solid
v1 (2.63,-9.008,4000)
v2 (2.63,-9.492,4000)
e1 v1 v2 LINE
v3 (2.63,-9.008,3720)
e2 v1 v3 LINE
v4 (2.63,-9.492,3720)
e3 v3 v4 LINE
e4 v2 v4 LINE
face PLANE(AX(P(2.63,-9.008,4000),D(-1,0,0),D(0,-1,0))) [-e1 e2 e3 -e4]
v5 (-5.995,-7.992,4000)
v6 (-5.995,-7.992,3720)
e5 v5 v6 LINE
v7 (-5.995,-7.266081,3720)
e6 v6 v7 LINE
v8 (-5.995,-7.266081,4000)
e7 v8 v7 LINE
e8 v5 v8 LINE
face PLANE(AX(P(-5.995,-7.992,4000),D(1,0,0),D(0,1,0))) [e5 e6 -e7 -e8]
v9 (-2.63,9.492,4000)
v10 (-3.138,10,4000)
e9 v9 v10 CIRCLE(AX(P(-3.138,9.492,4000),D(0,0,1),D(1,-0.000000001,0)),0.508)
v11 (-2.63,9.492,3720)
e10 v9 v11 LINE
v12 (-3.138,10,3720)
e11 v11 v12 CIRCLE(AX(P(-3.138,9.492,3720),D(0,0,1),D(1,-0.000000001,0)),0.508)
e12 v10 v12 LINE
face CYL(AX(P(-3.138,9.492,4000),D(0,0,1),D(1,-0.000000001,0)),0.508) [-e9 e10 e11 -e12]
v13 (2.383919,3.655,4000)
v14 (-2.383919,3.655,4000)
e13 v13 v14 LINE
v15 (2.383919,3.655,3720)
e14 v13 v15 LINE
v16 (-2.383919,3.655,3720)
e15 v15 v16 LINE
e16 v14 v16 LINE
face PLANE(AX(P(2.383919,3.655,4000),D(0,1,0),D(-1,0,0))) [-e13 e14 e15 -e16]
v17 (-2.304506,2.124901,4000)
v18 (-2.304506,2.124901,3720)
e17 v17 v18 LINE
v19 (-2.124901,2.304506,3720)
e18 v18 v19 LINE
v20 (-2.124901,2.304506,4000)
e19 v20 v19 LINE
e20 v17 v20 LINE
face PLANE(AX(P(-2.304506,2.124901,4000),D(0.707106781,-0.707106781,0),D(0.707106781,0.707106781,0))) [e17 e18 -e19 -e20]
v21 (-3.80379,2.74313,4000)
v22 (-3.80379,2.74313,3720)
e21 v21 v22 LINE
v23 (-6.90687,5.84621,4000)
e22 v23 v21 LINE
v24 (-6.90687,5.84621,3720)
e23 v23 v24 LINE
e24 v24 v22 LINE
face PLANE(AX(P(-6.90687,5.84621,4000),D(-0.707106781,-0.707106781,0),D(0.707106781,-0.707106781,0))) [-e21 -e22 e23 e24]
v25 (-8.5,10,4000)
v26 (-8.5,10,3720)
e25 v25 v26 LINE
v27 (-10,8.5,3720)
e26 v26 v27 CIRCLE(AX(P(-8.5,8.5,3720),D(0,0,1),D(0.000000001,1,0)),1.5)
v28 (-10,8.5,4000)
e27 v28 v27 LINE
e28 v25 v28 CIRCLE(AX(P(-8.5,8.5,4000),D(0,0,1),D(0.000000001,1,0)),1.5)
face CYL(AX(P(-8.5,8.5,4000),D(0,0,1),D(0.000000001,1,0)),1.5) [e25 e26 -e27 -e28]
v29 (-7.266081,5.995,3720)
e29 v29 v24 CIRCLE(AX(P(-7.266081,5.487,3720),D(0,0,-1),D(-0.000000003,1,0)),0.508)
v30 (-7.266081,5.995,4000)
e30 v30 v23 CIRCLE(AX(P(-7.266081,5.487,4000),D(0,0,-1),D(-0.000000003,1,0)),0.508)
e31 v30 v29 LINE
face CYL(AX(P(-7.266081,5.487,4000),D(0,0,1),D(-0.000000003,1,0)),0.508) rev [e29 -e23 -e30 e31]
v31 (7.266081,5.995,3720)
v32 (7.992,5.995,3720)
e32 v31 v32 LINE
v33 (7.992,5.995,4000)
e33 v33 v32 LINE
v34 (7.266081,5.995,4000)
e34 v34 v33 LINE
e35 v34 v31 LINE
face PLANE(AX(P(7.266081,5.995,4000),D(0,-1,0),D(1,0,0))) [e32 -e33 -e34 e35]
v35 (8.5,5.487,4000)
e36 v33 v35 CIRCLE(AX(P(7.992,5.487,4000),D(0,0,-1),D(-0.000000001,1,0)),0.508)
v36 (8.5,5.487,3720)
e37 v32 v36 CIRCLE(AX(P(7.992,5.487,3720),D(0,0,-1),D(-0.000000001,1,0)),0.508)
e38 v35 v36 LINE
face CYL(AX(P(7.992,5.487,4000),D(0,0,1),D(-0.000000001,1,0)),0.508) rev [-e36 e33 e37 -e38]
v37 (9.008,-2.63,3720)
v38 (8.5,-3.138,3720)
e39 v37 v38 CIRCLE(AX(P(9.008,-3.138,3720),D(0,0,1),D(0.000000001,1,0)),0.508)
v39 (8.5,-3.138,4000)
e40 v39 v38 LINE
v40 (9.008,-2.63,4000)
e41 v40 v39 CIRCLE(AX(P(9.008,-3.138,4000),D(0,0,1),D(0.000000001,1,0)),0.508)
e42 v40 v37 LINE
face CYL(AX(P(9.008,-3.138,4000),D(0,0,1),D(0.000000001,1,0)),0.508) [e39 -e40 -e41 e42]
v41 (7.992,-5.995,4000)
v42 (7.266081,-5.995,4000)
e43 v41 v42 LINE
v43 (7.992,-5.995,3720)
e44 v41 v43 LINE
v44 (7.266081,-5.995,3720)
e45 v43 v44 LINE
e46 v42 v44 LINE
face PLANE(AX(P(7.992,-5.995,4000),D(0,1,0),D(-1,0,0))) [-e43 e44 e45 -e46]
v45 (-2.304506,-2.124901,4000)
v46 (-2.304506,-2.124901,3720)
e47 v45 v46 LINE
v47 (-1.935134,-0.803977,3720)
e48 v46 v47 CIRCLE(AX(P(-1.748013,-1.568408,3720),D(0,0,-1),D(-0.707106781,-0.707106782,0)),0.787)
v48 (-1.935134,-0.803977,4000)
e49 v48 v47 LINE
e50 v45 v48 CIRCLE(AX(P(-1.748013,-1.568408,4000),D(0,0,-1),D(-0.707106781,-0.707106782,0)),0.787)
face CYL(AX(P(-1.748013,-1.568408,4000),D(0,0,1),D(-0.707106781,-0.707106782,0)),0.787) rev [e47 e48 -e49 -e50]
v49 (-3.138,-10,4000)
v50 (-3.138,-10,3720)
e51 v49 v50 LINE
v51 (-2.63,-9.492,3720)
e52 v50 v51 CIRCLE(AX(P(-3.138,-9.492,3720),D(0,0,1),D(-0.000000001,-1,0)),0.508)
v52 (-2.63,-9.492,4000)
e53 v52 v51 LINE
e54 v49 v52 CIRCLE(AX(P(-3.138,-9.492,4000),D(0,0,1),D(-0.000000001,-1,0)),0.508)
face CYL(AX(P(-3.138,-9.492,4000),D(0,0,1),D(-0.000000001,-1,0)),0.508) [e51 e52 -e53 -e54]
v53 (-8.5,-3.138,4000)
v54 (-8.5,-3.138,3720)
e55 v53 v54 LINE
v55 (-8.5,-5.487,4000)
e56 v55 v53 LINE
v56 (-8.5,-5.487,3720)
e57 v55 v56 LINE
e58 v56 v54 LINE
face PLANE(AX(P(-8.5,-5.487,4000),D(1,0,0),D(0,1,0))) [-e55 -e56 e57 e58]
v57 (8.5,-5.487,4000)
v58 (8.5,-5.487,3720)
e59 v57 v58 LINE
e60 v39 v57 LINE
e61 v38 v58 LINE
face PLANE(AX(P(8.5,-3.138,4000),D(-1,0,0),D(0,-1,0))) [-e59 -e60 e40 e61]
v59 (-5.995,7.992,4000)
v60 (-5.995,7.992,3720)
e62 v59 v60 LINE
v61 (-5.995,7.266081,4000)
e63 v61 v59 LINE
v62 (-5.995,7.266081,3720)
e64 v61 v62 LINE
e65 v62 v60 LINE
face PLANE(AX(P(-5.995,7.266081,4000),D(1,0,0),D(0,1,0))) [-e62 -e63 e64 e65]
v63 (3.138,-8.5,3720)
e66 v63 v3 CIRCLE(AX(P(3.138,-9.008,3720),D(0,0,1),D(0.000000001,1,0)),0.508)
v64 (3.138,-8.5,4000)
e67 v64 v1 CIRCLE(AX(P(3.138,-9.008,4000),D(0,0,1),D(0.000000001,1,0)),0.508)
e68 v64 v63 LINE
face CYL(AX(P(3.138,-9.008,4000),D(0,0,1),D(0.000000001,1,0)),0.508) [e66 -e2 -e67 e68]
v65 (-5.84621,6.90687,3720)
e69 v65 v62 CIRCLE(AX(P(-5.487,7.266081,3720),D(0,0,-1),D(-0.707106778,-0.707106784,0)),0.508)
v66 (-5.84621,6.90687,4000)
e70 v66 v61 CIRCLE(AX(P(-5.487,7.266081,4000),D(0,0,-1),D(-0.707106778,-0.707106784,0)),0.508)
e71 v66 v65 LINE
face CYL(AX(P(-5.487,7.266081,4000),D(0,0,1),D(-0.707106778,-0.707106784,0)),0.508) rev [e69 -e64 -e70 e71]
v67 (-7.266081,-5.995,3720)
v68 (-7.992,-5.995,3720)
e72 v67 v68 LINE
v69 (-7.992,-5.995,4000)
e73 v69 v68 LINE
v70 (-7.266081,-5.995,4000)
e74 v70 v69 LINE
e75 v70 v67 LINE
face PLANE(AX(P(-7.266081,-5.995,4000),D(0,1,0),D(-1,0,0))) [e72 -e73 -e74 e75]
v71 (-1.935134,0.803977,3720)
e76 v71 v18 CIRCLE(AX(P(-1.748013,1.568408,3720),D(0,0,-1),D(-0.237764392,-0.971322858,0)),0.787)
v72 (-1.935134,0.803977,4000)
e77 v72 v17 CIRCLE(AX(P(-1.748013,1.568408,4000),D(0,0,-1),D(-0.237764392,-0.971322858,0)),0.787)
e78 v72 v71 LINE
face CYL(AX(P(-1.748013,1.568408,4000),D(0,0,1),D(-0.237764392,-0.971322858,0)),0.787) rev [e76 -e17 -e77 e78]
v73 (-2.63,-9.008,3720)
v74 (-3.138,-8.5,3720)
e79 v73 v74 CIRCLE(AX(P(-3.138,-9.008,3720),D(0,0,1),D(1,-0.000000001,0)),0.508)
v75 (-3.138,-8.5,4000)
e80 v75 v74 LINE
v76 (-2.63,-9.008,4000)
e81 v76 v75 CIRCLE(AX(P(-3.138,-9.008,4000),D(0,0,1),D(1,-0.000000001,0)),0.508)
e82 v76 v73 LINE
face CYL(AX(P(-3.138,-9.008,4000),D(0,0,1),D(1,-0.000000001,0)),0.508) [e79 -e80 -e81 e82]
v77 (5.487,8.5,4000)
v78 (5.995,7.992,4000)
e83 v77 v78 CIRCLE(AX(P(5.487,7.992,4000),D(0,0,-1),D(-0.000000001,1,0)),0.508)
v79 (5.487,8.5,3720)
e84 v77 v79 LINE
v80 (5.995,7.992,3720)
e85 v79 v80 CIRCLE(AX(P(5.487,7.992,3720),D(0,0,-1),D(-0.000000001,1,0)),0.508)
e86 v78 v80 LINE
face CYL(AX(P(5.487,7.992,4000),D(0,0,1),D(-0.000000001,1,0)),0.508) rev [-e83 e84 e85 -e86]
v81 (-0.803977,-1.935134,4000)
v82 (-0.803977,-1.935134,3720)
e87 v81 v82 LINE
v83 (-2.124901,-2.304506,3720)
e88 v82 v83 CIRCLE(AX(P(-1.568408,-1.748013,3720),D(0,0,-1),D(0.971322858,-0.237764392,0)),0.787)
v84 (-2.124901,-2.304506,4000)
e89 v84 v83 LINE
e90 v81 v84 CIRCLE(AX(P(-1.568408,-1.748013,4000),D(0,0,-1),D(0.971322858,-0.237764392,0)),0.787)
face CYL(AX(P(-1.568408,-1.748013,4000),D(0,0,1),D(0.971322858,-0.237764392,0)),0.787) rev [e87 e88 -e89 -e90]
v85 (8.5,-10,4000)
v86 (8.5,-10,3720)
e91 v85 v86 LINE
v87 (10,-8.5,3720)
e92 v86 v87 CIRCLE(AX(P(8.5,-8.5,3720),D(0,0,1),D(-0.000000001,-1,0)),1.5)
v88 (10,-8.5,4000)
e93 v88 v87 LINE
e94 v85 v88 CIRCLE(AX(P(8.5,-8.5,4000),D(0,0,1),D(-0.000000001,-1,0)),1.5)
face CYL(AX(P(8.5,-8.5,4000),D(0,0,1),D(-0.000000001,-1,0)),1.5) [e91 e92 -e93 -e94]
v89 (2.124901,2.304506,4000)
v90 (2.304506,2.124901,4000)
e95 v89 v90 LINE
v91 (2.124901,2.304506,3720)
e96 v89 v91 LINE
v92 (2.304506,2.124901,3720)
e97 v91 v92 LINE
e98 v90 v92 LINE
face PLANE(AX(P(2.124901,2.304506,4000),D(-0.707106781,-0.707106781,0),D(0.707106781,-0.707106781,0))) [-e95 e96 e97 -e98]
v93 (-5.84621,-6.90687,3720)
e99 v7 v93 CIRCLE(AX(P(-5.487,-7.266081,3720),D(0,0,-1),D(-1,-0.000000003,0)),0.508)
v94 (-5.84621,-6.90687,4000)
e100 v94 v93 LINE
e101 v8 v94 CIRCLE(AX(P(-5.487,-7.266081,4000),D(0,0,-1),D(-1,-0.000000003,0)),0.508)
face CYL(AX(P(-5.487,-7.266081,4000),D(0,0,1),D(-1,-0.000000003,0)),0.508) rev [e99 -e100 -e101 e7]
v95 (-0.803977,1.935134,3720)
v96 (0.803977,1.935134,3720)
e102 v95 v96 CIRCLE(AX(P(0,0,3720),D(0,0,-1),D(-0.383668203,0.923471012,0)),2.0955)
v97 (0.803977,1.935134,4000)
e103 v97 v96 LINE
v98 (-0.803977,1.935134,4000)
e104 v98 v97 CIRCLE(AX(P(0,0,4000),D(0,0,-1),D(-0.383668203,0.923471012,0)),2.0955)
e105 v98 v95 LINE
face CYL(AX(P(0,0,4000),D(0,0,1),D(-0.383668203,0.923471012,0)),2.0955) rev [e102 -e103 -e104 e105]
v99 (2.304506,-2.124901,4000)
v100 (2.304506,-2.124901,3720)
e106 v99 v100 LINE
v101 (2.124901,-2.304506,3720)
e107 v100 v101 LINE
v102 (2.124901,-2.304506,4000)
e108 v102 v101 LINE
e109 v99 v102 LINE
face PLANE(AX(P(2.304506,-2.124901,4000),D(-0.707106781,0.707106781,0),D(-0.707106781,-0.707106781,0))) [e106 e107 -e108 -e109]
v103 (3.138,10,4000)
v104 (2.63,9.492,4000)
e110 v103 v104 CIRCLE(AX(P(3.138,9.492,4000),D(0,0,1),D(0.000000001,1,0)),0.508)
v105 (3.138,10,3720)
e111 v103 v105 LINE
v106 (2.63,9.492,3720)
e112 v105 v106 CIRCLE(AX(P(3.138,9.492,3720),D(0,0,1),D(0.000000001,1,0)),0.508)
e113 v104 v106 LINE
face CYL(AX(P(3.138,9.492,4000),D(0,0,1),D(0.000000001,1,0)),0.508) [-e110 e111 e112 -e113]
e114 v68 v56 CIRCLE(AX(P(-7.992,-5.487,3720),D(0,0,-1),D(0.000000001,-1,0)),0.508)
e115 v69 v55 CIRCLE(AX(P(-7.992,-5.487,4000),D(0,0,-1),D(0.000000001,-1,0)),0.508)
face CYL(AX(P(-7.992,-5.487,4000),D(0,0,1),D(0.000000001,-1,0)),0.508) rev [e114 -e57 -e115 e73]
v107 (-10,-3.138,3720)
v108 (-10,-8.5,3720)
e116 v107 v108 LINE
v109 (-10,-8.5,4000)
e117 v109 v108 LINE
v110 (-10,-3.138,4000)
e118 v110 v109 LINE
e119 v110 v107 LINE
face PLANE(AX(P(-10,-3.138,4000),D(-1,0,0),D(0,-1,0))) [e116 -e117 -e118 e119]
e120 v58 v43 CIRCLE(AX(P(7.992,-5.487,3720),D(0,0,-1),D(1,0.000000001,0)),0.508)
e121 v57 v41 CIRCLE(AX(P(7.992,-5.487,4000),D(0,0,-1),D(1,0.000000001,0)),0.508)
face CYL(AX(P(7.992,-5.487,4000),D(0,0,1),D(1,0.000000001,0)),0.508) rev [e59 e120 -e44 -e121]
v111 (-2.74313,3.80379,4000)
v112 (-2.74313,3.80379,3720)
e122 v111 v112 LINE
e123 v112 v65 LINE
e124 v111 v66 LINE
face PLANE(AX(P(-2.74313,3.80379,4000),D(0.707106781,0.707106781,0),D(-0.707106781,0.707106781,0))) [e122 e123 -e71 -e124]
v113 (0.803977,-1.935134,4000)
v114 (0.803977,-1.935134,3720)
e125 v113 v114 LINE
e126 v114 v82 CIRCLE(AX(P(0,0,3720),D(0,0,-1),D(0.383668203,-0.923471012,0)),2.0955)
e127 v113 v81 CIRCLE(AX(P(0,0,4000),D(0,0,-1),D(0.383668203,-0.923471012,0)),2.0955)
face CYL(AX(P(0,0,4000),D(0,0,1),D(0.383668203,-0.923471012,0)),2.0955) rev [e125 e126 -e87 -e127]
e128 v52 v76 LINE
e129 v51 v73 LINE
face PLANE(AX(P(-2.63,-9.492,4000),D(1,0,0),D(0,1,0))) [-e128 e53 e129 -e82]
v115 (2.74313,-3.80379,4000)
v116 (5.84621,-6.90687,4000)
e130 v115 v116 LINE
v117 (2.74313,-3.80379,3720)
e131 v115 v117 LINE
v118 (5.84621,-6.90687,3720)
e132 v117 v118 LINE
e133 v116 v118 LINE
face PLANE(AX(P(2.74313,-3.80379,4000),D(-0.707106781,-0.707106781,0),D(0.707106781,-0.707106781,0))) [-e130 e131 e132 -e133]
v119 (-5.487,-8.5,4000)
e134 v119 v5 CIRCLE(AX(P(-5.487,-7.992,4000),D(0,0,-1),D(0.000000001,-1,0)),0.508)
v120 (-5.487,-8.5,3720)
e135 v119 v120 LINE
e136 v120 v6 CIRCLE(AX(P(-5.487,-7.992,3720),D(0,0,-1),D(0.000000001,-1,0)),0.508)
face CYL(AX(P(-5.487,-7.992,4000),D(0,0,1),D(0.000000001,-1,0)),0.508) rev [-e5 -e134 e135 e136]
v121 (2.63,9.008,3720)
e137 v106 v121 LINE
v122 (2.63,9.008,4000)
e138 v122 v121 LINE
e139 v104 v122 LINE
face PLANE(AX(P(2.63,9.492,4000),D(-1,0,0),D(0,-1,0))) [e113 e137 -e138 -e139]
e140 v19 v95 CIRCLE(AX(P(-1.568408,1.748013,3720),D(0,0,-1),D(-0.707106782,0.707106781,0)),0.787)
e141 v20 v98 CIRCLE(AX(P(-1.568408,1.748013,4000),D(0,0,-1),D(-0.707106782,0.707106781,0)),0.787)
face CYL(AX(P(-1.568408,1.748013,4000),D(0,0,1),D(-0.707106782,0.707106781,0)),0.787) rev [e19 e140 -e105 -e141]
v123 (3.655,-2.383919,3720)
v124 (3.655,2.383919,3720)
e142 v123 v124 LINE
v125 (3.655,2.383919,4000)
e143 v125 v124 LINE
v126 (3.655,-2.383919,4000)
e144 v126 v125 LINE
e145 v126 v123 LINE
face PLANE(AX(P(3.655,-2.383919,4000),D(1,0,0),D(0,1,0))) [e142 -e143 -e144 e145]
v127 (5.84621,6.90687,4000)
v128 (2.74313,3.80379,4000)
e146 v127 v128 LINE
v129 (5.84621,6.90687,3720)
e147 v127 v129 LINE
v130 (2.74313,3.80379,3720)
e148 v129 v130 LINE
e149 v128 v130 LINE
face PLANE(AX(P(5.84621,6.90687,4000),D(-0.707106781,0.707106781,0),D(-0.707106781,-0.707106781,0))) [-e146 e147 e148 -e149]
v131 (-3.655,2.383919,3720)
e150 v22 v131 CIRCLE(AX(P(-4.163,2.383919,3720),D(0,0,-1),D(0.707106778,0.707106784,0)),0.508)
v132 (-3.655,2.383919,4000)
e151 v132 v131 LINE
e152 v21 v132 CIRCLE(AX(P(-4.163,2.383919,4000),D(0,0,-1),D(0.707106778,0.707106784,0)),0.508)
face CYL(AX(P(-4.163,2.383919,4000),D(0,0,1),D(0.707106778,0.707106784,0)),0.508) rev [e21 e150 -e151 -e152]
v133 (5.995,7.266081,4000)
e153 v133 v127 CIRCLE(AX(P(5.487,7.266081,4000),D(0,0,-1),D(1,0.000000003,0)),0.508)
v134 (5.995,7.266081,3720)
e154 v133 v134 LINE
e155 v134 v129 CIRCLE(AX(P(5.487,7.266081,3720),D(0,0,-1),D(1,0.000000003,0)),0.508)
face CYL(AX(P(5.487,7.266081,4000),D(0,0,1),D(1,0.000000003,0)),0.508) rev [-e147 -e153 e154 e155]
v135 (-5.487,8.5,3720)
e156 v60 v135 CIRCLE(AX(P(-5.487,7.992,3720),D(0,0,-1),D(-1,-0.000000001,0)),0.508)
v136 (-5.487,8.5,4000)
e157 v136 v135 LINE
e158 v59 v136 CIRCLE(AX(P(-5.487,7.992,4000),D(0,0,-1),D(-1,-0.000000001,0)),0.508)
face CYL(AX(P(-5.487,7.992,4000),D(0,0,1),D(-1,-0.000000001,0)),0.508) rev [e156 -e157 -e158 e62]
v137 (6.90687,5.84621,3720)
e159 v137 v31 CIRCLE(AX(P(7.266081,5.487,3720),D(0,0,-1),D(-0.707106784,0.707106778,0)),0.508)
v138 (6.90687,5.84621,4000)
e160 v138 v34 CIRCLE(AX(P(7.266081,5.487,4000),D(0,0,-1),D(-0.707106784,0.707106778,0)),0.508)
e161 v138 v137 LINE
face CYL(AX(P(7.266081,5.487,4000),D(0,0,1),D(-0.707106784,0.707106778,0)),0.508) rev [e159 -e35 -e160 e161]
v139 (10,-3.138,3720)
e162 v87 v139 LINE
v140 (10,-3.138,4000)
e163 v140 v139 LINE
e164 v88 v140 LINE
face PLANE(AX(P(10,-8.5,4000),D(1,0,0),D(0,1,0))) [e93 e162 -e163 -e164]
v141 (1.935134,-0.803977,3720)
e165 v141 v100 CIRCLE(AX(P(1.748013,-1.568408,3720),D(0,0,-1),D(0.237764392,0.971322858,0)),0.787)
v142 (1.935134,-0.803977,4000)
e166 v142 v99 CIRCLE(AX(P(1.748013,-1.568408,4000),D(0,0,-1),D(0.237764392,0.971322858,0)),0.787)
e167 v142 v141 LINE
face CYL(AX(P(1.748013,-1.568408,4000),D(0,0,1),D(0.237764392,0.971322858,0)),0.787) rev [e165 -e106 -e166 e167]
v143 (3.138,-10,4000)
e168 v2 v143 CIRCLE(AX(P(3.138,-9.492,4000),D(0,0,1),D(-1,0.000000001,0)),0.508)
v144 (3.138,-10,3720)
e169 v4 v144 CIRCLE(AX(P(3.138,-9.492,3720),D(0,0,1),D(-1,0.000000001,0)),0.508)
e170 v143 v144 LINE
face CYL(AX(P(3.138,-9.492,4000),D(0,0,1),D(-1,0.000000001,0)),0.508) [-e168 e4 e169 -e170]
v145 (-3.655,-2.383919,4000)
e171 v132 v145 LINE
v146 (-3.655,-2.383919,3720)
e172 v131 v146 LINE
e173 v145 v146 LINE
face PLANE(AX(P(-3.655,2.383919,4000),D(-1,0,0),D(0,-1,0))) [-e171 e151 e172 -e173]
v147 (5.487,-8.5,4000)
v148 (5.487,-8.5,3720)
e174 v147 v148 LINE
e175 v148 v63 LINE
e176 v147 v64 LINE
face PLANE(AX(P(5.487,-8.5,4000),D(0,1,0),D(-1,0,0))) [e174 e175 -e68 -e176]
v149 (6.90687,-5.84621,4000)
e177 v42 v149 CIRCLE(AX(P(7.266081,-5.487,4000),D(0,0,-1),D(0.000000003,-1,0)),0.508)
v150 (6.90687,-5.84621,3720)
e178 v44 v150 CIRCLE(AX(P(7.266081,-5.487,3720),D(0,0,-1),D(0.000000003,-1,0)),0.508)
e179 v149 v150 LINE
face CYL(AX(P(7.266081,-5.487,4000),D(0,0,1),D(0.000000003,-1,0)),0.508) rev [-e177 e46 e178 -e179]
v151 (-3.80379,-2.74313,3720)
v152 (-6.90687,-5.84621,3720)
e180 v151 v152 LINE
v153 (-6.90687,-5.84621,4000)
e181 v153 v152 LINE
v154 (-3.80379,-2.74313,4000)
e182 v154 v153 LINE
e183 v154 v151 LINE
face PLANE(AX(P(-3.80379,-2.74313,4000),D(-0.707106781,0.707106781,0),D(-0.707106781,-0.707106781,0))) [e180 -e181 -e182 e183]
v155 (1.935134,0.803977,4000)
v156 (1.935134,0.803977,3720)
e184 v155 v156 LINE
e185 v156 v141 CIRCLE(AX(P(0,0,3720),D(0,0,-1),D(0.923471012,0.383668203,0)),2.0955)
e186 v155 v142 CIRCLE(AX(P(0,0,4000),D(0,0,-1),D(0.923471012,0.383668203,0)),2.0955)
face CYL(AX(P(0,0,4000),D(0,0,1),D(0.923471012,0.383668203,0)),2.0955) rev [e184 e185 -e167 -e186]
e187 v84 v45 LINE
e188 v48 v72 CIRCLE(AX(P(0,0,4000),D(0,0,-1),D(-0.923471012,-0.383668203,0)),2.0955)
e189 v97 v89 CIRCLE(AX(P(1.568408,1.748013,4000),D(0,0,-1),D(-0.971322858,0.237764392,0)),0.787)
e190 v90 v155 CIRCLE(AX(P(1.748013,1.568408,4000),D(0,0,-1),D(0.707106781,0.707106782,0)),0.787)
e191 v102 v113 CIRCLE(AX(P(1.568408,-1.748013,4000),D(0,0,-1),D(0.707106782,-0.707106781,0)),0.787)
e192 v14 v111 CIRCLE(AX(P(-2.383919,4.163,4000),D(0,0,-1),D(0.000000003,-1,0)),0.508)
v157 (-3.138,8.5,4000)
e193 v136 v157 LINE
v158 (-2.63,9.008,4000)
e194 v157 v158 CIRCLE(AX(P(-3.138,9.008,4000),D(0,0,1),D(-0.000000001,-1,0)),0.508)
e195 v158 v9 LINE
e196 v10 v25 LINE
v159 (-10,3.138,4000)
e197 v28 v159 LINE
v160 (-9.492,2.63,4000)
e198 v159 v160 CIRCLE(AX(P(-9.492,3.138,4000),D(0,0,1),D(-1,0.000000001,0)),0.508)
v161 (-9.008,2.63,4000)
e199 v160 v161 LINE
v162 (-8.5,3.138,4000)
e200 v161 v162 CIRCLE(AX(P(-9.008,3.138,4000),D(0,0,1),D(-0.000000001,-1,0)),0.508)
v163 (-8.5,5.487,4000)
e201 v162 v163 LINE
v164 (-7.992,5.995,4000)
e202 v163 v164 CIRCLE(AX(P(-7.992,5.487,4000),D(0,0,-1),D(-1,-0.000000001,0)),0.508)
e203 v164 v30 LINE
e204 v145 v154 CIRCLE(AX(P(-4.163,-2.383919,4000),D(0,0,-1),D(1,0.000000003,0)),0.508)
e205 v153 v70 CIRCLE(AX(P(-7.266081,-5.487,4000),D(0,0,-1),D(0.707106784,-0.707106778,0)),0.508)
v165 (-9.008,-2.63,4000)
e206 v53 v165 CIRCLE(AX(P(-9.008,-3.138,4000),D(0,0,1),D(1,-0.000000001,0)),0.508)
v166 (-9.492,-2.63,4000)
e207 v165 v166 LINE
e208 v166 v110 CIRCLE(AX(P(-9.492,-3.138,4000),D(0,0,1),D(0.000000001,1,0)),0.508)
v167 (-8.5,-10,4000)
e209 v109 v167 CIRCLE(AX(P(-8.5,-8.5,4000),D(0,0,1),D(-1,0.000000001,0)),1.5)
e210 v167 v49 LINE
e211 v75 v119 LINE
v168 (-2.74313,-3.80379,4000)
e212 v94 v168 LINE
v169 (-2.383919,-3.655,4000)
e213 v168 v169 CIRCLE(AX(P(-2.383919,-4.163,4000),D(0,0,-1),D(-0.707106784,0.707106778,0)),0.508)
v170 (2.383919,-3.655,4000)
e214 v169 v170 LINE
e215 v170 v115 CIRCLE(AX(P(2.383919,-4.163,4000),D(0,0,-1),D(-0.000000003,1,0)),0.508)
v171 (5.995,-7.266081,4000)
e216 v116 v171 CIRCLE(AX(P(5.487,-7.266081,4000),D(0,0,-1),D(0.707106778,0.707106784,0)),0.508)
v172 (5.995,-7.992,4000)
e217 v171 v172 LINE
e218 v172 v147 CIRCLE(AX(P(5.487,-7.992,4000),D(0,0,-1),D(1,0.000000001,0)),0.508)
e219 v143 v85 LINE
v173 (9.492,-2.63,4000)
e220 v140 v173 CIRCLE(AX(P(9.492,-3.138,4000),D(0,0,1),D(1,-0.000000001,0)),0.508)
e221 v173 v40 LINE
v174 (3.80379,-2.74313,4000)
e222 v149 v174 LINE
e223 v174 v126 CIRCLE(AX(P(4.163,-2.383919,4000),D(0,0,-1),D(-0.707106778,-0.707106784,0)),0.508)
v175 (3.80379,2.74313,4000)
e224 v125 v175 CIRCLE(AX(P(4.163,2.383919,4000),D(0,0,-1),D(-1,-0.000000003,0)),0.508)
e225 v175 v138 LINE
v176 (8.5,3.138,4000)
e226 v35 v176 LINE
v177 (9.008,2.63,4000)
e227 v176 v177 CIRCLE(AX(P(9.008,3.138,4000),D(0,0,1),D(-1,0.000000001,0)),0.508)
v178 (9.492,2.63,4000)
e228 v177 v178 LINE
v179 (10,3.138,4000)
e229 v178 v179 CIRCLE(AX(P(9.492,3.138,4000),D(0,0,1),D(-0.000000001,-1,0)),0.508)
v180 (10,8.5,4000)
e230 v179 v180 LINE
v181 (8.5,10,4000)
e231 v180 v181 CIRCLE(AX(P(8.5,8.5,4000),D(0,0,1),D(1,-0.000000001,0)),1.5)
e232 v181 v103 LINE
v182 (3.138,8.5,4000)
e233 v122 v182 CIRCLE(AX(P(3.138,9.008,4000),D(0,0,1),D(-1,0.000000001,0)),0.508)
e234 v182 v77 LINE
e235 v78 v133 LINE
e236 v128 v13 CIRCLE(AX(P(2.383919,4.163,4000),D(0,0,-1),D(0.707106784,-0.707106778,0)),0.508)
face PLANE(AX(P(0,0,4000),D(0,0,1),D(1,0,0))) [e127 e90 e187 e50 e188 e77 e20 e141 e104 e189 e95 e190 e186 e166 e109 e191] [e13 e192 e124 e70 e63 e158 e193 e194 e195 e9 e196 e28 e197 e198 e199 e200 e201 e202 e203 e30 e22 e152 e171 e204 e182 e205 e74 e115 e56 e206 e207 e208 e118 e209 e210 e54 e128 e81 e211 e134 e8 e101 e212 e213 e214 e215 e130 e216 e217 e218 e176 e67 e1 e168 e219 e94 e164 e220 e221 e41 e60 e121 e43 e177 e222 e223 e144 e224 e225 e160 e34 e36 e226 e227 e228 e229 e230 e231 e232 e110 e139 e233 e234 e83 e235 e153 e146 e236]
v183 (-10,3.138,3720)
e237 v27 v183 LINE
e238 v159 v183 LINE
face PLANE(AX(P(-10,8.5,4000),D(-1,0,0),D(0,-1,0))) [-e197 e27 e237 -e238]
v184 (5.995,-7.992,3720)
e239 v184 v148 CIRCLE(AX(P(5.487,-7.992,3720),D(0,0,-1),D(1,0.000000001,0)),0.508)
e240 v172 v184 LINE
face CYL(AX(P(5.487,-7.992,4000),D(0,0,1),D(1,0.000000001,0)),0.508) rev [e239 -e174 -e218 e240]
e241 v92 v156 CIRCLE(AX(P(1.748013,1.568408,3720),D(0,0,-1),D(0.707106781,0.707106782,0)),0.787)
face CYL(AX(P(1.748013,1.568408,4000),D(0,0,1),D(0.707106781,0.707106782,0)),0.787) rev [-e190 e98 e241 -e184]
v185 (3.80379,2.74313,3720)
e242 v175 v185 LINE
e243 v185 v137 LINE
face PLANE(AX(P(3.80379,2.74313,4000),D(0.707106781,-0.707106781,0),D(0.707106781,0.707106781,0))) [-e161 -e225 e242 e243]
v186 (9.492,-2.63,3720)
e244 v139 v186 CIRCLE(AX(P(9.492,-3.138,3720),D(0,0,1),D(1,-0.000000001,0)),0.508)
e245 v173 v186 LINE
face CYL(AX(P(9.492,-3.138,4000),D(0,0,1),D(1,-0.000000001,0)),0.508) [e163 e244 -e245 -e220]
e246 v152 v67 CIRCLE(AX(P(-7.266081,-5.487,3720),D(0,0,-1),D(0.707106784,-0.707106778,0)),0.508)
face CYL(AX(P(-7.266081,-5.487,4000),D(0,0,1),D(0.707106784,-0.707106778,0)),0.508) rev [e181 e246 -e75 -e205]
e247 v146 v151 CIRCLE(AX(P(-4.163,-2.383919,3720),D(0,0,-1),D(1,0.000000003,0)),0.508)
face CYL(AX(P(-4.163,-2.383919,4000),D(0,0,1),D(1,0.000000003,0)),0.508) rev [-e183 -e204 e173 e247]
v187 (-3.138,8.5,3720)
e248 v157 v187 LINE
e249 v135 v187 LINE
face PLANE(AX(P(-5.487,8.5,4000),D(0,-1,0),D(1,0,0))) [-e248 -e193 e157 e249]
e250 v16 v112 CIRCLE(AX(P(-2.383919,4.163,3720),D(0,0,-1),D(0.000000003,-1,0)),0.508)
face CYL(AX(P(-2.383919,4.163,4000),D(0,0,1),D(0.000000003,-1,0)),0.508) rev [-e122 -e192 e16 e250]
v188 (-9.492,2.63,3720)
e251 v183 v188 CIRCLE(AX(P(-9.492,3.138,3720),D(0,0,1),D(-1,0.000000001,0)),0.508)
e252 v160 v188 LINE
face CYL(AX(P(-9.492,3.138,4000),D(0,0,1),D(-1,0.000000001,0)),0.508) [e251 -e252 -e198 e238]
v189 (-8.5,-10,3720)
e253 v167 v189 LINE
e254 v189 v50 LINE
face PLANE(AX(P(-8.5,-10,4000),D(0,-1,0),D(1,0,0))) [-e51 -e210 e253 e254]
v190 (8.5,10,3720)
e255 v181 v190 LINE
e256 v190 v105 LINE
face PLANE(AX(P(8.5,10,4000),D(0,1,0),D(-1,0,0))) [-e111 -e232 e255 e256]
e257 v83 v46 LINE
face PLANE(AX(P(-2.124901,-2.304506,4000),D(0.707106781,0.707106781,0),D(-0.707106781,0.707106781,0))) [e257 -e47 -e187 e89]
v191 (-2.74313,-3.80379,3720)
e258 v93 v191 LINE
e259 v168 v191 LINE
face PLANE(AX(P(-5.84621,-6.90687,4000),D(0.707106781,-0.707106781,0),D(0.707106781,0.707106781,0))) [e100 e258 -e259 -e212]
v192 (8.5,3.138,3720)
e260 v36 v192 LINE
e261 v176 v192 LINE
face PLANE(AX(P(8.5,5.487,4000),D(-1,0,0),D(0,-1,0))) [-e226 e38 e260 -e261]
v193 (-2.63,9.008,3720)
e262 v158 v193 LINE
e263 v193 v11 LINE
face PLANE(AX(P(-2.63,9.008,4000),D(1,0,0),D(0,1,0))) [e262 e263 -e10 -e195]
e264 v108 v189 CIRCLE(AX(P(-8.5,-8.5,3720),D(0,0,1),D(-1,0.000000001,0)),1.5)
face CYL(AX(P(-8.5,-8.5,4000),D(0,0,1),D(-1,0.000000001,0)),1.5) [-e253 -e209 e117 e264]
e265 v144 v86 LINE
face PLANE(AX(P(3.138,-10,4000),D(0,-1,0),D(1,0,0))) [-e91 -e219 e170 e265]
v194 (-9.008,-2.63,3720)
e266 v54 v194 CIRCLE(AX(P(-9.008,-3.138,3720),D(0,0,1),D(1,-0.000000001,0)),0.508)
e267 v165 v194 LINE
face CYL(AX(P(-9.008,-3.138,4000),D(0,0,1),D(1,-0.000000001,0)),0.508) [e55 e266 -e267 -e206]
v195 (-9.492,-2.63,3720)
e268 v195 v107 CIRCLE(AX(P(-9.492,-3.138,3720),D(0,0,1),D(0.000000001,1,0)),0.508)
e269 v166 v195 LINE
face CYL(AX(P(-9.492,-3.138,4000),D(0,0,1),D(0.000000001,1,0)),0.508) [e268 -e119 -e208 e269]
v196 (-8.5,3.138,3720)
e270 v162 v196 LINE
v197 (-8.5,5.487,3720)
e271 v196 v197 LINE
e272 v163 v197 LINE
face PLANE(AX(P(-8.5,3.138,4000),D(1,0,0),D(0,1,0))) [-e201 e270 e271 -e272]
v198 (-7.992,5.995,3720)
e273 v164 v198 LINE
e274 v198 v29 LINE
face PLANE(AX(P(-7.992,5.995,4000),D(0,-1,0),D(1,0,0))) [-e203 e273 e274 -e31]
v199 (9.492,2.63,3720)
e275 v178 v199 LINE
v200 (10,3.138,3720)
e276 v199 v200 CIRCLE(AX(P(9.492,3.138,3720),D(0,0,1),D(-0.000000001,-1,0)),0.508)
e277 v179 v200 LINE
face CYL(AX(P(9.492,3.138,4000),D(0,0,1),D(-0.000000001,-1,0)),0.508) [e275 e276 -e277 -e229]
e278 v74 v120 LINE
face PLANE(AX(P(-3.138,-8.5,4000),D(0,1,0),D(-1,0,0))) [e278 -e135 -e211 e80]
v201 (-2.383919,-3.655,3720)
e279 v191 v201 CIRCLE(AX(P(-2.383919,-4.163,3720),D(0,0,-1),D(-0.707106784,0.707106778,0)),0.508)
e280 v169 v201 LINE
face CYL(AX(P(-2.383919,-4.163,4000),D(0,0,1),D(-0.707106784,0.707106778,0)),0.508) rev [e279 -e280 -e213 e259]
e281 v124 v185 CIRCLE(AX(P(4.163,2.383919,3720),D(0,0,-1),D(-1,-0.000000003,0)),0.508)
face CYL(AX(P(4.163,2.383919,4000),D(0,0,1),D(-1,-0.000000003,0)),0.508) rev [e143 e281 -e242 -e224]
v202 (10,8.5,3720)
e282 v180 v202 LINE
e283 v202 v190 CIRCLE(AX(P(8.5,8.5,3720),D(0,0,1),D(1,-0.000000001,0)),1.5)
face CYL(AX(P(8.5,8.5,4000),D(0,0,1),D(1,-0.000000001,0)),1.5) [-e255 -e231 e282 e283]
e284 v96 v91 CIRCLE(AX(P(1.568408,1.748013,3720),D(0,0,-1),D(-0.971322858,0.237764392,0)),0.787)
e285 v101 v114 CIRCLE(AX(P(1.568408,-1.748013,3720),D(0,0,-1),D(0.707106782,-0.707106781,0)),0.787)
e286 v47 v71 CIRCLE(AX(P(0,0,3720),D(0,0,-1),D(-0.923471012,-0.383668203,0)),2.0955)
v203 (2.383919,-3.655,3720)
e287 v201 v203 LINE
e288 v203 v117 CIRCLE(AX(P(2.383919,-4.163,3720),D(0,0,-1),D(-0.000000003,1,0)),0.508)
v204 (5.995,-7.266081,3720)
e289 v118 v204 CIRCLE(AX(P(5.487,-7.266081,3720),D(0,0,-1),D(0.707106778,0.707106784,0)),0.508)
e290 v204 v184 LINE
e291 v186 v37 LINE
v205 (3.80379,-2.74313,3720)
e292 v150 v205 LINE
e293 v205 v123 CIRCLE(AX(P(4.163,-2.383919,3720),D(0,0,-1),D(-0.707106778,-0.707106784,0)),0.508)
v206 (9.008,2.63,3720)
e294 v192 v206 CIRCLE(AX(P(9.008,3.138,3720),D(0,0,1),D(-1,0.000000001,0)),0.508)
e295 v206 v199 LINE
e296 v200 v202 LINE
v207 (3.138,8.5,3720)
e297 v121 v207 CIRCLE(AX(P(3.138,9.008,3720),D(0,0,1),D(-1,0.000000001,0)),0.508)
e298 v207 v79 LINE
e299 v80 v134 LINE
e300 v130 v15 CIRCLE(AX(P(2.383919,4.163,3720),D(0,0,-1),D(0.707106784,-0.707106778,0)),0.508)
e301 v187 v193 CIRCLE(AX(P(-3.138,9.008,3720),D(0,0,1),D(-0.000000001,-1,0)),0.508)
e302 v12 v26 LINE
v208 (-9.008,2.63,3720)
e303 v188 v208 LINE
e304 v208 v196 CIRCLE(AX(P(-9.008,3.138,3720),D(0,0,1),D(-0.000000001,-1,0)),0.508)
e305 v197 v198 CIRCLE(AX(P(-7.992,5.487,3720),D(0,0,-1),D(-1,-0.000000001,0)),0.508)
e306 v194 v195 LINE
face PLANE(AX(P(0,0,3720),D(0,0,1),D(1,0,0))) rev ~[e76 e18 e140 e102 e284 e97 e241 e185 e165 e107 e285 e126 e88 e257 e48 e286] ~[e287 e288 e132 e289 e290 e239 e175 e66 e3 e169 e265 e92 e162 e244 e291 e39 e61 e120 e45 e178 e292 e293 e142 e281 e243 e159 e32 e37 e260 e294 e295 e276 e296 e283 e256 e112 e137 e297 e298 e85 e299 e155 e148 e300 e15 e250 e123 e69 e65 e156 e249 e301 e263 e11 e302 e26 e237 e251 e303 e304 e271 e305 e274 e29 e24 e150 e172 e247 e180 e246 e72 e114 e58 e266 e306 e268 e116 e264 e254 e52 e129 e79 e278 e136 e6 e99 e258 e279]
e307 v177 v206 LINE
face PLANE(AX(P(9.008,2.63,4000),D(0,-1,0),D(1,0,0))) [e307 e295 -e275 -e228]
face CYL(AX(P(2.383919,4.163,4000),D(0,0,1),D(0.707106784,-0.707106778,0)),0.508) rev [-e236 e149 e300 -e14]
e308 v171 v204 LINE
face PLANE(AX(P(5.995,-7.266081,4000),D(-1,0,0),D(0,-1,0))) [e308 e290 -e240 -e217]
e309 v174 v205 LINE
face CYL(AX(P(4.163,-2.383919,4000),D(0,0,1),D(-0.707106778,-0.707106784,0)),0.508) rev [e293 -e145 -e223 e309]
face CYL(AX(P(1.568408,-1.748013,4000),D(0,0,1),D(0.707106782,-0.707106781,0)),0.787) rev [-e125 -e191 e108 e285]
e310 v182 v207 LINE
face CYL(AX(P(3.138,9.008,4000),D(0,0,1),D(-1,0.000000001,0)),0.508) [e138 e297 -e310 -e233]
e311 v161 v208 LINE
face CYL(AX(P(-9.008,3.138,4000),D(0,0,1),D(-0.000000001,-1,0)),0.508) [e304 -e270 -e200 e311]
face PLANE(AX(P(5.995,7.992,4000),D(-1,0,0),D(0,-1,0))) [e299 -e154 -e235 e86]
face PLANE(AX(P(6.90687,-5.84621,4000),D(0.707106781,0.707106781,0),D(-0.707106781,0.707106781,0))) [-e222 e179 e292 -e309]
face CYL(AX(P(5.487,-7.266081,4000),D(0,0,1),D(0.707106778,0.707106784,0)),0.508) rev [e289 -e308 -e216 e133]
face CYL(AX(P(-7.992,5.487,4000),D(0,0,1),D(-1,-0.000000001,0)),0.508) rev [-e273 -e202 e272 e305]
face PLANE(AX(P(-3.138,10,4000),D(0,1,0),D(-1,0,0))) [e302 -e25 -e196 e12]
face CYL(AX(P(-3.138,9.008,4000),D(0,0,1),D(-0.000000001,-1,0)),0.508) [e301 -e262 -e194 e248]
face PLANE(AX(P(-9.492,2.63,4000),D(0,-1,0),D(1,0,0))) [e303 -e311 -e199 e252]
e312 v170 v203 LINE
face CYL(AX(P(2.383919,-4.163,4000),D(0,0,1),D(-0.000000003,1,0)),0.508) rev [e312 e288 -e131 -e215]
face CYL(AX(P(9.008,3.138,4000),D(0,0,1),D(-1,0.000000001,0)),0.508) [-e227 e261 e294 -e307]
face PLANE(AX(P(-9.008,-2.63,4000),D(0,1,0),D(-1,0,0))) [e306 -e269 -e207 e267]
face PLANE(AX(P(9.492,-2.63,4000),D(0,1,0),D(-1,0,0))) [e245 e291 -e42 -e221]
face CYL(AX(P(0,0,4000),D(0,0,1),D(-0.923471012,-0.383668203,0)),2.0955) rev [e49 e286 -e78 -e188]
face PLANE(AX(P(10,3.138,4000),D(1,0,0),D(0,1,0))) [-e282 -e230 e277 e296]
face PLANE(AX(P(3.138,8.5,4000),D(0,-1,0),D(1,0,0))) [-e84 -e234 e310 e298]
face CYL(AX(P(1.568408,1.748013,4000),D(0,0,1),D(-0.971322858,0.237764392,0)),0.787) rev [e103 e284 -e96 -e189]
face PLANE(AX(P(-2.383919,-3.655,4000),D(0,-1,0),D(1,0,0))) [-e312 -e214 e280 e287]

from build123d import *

# Parameters (mm, degrees)
BOSS_EXTRUDE1_DEPTH = 280


with BuildPart() as part:
    # Sketch1 → Boss-Extrude1 (new body)
    with BuildSketch(Plane.XY.offset(4000)):
        with BuildLine():
            Line((10, 3.138), (10, 8.5))
            ThreePointArc((10, 8.5), (9.560660172, 9.560660172), (8.5, 10))
            Line((8.5, 10), (3.138, 10))
            ThreePointArc((3.138, 10), (2.778789755, 9.851210245), (2.63, 9.492))
            Line((2.63, 9.492), (2.63, 9.008))
            ThreePointArc((2.63, 9.008), (2.778789755, 8.648789755), (3.138, 8.5))
            Line((3.138, 8.5), (5.487, 8.5))
            ThreePointArc((5.487, 8.5), (5.846210245, 8.351210245), (5.995, 7.992))
            Line((5.995, 7.992), (5.995, 7.266080661))
            ThreePointArc((5.995, 7.266080661), (5.956330803, 7.071677478), (5.846210245, 6.906870417))
            Line((5.846210245, 6.906870417), (2.743129583, 3.803789755))
            ThreePointArc((2.743129583, 3.803789755), (2.578322522, 3.693669197), (2.383919339, 3.655))
            Line((2.383919339, 3.655), (-2.383919339, 3.655))
            ThreePointArc((-2.383919339, 3.655), (-2.578322522, 3.693669197), (-2.743129583, 3.803789755))
            Line((-2.743129583, 3.803789755), (-5.846210245, 6.906870417))
            ThreePointArc((-5.846210245, 6.906870417), (-5.956330803, 7.071677478), (-5.995, 7.266080661))
            Line((-5.995, 7.266080661), (-5.995, 7.992))
            ThreePointArc((-5.995, 7.992), (-5.846210245, 8.351210245), (-5.487, 8.5))
            Line((-5.487, 8.5), (-3.138, 8.5))
            ThreePointArc((-3.138, 8.5), (-2.778789755, 8.648789755), (-2.63, 9.008))
            Line((-2.63, 9.008), (-2.63, 9.492))
            ThreePointArc((-2.63, 9.492), (-2.778789755, 9.851210245), (-3.138, 10))
            Line((-3.138, 10), (-8.5, 10))
            ThreePointArc((-8.5, 10), (-9.560660172, 9.560660172), (-10, 8.5))
            Line((-10, 8.5), (-10, 3.138))
            ThreePointArc((-10, 3.138), (-9.851210245, 2.778789755), (-9.492, 2.63))
            Line((-9.492, 2.63), (-9.008, 2.63))
            ThreePointArc((-9.008, 2.63), (-8.648789755, 2.778789755), (-8.5, 3.138))
            Line((-8.5, 3.138), (-8.5, 5.487))
            ThreePointArc((-8.5, 5.487), (-8.351210245, 5.846210245), (-7.992, 5.995))
            Line((-7.992, 5.995), (-7.266080661, 5.995))
            ThreePointArc((-7.266080661, 5.995), (-7.071677478, 5.956330803), (-6.906870417, 5.846210245))
            Line((-6.906870417, 5.846210245), (-3.803789755, 2.743129583))
            ThreePointArc((-3.803789755, 2.743129583), (-3.693669197, 2.578322522), (-3.655, 2.383919339))
            Line((-3.655, 2.383919339), (-3.655, -2.383919339))
            ThreePointArc((-3.655, -2.383919339), (-3.693669197, -2.578322522), (-3.803789755, -2.743129583))
            Line((-3.803789755, -2.743129583), (-6.906870417, -5.846210245))
            ThreePointArc((-6.906870417, -5.846210245), (-7.071677478, -5.956330803), (-7.266080661, -5.995))
            Line((-7.266080661, -5.995), (-7.992, -5.995))
            ThreePointArc((-7.992, -5.995), (-8.351210245, -5.846210245), (-8.5, -5.487))
            Line((-8.5, -5.487), (-8.5, -3.138))
            ThreePointArc((-8.5, -3.138), (-8.648789755, -2.778789755), (-9.008, -2.63))
            Line((-9.008, -2.63), (-9.492, -2.63))
            ThreePointArc((-9.492, -2.63), (-9.851210245, -2.778789755), (-10, -3.138))
            Line((-10, -3.138), (-10, -8.5))
            ThreePointArc((-10, -8.5), (-9.560660172, -9.560660172), (-8.5, -10))
            Line((-8.5, -10), (-3.138, -10))
            ThreePointArc((-3.138, -10), (-2.778789755, -9.851210245), (-2.63, -9.492))
            Line((-2.63, -9.492), (-2.63, -9.008))
            ThreePointArc((-2.63, -9.008), (-2.778789755, -8.648789755), (-3.138, -8.5))
            Line((-3.138, -8.5), (-5.487, -8.5))
            ThreePointArc((-5.487, -8.5), (-5.846210245, -8.351210245), (-5.995, -7.992))
            Line((-5.995, -7.992), (-5.995, -7.266080661))
            ThreePointArc((-5.995, -7.266080661), (-5.956330803, -7.071677478), (-5.846210245, -6.906870417))
            Line((-5.846210245, -6.906870417), (-2.743129583, -3.803789755))
            ThreePointArc((-2.743129583, -3.803789755), (-2.578322522, -3.693669197), (-2.383919339, -3.655))
            Line((-2.383919339, -3.655), (2.383919339, -3.655))
            ThreePointArc((2.383919339, -3.655), (2.578322522, -3.693669197), (2.743129583, -3.803789755))
            Line((2.743129583, -3.803789755), (5.846210245, -6.906870417))
            ThreePointArc((5.846210245, -6.906870417), (5.956330803, -7.071677478), (5.995, -7.266080661))
            Line((5.995, -7.266080661), (5.995, -7.992))
            ThreePointArc((5.995, -7.992), (5.846210245, -8.351210245), (5.487, -8.5))
            Line((5.487, -8.5), (3.138, -8.5))
            ThreePointArc((3.138, -8.5), (2.778789755, -8.648789755), (2.63, -9.008))
            Line((2.63, -9.008), (2.63, -9.492))
            ThreePointArc((2.63, -9.492), (2.778789755, -9.851210245), (3.138, -10))
            Line((3.138, -10), (8.5, -10))
            ThreePointArc((8.5, -10), (9.560660172, -9.560660172), (10, -8.5))
            Line((10, -8.5), (10, -3.138))
            ThreePointArc((10, -3.138), (9.851210245, -2.778789755), (9.492, -2.63))
            Line((9.492, -2.63), (9.008, -2.63))
            ThreePointArc((9.008, -2.63), (8.648789755, -2.778789755), (8.5, -3.138))
            Line((8.5, -3.138), (8.5, -5.487))
            ThreePointArc((8.5, -5.487), (8.351210245, -5.846210245), (7.992, -5.995))
            Line((7.992, -5.995), (7.266080661, -5.995))
            ThreePointArc((7.266080661, -5.995), (7.071677478, -5.956330803), (6.906870417, -5.846210245))
            Line((6.906870417, -5.846210245), (3.803789755, -2.743129583))
            ThreePointArc((3.803789755, -2.743129583), (3.693669197, -2.578322522), (3.655, -2.383919339))
            Line((3.655, -2.383919339), (3.655, 2.383919339))
            ThreePointArc((3.655, 2.383919339), (3.693669197, 2.578322522), (3.803789755, 2.743129583))
            Line((3.803789755, 2.743129583), (6.906870417, 5.846210245))
            ThreePointArc((6.906870417, 5.846210245), (7.071677478, 5.956330803), (7.266080661, 5.995))
            Line((7.266080661, 5.995), (7.992, 5.995))
            ThreePointArc((7.992, 5.995), (8.351210245, 5.846210245), (8.5, 5.487))
            Line((8.5, 5.487), (8.5, 3.138))
            ThreePointArc((8.5, 3.138), (8.648789755, 2.778789755), (9.008, 2.63))
            Line((9.008, 2.63), (9.492, 2.63))
            ThreePointArc((9.492, 2.63), (9.851210245, 2.778789755), (10, 3.138))
        make_face()
        with BuildLine():
            Line((-2.124900844, -2.304505966), (-2.304505966, -2.124900844))
            ThreePointArc((-2.304505966, -2.124900844), (-2.505938017, -1.356467811), (-1.935133506, -0.803976718))
            ThreePointArc((-1.935133506, -0.803976718), (-2.0955, 0), (-1.935133506, 0.803976718))
            ThreePointArc((-1.935133506, 0.803976718), (-2.505938017, 1.356467811), (-2.304505966, 2.124900844))
            Line((-2.304505966, 2.124900844), (-2.124900844, 2.304505966))
            ThreePointArc((-2.124900844, 2.304505966), (-1.356467811, 2.505938017), (-0.803976718, 1.935133506))
            ThreePointArc((-0.803976718, 1.935133506), (0, 2.0955), (0.803976718, 1.935133506))
            ThreePointArc((0.803976718, 1.935133506), (1.356467811, 2.505938017), (2.124900844, 2.304505966))
            Line((2.124900844, 2.304505966), (2.304505966, 2.124900844))
            ThreePointArc((2.304505966, 2.124900844), (2.505938017, 1.356467811), (1.935133506, 0.803976718))
            ThreePointArc((1.935133506, 0.803976718), (2.0955, 0), (1.935133506, -0.803976718))
            ThreePointArc((1.935133506, -0.803976718), (2.505938017, -1.356467811), (2.304505966, -2.124900844))
            Line((2.304505966, -2.124900844), (2.124900844, -2.304505966))
            ThreePointArc((2.124900844, -2.304505966), (1.356467811, -2.505938017), (0.803976718, -1.935133506))
            ThreePointArc((0.803976718, -1.935133506), (0, -2.0955), (-0.803976718, -1.935133506))
            ThreePointArc((-0.803976718, -1.935133506), (-1.356467811, -2.505938017), (-2.124900844, -2.304505966))
        make_face(mode=Mode.SUBTRACT)
    extrude(amount=-BOSS_EXTRUDE1_DEPTH)


solid = part.part
